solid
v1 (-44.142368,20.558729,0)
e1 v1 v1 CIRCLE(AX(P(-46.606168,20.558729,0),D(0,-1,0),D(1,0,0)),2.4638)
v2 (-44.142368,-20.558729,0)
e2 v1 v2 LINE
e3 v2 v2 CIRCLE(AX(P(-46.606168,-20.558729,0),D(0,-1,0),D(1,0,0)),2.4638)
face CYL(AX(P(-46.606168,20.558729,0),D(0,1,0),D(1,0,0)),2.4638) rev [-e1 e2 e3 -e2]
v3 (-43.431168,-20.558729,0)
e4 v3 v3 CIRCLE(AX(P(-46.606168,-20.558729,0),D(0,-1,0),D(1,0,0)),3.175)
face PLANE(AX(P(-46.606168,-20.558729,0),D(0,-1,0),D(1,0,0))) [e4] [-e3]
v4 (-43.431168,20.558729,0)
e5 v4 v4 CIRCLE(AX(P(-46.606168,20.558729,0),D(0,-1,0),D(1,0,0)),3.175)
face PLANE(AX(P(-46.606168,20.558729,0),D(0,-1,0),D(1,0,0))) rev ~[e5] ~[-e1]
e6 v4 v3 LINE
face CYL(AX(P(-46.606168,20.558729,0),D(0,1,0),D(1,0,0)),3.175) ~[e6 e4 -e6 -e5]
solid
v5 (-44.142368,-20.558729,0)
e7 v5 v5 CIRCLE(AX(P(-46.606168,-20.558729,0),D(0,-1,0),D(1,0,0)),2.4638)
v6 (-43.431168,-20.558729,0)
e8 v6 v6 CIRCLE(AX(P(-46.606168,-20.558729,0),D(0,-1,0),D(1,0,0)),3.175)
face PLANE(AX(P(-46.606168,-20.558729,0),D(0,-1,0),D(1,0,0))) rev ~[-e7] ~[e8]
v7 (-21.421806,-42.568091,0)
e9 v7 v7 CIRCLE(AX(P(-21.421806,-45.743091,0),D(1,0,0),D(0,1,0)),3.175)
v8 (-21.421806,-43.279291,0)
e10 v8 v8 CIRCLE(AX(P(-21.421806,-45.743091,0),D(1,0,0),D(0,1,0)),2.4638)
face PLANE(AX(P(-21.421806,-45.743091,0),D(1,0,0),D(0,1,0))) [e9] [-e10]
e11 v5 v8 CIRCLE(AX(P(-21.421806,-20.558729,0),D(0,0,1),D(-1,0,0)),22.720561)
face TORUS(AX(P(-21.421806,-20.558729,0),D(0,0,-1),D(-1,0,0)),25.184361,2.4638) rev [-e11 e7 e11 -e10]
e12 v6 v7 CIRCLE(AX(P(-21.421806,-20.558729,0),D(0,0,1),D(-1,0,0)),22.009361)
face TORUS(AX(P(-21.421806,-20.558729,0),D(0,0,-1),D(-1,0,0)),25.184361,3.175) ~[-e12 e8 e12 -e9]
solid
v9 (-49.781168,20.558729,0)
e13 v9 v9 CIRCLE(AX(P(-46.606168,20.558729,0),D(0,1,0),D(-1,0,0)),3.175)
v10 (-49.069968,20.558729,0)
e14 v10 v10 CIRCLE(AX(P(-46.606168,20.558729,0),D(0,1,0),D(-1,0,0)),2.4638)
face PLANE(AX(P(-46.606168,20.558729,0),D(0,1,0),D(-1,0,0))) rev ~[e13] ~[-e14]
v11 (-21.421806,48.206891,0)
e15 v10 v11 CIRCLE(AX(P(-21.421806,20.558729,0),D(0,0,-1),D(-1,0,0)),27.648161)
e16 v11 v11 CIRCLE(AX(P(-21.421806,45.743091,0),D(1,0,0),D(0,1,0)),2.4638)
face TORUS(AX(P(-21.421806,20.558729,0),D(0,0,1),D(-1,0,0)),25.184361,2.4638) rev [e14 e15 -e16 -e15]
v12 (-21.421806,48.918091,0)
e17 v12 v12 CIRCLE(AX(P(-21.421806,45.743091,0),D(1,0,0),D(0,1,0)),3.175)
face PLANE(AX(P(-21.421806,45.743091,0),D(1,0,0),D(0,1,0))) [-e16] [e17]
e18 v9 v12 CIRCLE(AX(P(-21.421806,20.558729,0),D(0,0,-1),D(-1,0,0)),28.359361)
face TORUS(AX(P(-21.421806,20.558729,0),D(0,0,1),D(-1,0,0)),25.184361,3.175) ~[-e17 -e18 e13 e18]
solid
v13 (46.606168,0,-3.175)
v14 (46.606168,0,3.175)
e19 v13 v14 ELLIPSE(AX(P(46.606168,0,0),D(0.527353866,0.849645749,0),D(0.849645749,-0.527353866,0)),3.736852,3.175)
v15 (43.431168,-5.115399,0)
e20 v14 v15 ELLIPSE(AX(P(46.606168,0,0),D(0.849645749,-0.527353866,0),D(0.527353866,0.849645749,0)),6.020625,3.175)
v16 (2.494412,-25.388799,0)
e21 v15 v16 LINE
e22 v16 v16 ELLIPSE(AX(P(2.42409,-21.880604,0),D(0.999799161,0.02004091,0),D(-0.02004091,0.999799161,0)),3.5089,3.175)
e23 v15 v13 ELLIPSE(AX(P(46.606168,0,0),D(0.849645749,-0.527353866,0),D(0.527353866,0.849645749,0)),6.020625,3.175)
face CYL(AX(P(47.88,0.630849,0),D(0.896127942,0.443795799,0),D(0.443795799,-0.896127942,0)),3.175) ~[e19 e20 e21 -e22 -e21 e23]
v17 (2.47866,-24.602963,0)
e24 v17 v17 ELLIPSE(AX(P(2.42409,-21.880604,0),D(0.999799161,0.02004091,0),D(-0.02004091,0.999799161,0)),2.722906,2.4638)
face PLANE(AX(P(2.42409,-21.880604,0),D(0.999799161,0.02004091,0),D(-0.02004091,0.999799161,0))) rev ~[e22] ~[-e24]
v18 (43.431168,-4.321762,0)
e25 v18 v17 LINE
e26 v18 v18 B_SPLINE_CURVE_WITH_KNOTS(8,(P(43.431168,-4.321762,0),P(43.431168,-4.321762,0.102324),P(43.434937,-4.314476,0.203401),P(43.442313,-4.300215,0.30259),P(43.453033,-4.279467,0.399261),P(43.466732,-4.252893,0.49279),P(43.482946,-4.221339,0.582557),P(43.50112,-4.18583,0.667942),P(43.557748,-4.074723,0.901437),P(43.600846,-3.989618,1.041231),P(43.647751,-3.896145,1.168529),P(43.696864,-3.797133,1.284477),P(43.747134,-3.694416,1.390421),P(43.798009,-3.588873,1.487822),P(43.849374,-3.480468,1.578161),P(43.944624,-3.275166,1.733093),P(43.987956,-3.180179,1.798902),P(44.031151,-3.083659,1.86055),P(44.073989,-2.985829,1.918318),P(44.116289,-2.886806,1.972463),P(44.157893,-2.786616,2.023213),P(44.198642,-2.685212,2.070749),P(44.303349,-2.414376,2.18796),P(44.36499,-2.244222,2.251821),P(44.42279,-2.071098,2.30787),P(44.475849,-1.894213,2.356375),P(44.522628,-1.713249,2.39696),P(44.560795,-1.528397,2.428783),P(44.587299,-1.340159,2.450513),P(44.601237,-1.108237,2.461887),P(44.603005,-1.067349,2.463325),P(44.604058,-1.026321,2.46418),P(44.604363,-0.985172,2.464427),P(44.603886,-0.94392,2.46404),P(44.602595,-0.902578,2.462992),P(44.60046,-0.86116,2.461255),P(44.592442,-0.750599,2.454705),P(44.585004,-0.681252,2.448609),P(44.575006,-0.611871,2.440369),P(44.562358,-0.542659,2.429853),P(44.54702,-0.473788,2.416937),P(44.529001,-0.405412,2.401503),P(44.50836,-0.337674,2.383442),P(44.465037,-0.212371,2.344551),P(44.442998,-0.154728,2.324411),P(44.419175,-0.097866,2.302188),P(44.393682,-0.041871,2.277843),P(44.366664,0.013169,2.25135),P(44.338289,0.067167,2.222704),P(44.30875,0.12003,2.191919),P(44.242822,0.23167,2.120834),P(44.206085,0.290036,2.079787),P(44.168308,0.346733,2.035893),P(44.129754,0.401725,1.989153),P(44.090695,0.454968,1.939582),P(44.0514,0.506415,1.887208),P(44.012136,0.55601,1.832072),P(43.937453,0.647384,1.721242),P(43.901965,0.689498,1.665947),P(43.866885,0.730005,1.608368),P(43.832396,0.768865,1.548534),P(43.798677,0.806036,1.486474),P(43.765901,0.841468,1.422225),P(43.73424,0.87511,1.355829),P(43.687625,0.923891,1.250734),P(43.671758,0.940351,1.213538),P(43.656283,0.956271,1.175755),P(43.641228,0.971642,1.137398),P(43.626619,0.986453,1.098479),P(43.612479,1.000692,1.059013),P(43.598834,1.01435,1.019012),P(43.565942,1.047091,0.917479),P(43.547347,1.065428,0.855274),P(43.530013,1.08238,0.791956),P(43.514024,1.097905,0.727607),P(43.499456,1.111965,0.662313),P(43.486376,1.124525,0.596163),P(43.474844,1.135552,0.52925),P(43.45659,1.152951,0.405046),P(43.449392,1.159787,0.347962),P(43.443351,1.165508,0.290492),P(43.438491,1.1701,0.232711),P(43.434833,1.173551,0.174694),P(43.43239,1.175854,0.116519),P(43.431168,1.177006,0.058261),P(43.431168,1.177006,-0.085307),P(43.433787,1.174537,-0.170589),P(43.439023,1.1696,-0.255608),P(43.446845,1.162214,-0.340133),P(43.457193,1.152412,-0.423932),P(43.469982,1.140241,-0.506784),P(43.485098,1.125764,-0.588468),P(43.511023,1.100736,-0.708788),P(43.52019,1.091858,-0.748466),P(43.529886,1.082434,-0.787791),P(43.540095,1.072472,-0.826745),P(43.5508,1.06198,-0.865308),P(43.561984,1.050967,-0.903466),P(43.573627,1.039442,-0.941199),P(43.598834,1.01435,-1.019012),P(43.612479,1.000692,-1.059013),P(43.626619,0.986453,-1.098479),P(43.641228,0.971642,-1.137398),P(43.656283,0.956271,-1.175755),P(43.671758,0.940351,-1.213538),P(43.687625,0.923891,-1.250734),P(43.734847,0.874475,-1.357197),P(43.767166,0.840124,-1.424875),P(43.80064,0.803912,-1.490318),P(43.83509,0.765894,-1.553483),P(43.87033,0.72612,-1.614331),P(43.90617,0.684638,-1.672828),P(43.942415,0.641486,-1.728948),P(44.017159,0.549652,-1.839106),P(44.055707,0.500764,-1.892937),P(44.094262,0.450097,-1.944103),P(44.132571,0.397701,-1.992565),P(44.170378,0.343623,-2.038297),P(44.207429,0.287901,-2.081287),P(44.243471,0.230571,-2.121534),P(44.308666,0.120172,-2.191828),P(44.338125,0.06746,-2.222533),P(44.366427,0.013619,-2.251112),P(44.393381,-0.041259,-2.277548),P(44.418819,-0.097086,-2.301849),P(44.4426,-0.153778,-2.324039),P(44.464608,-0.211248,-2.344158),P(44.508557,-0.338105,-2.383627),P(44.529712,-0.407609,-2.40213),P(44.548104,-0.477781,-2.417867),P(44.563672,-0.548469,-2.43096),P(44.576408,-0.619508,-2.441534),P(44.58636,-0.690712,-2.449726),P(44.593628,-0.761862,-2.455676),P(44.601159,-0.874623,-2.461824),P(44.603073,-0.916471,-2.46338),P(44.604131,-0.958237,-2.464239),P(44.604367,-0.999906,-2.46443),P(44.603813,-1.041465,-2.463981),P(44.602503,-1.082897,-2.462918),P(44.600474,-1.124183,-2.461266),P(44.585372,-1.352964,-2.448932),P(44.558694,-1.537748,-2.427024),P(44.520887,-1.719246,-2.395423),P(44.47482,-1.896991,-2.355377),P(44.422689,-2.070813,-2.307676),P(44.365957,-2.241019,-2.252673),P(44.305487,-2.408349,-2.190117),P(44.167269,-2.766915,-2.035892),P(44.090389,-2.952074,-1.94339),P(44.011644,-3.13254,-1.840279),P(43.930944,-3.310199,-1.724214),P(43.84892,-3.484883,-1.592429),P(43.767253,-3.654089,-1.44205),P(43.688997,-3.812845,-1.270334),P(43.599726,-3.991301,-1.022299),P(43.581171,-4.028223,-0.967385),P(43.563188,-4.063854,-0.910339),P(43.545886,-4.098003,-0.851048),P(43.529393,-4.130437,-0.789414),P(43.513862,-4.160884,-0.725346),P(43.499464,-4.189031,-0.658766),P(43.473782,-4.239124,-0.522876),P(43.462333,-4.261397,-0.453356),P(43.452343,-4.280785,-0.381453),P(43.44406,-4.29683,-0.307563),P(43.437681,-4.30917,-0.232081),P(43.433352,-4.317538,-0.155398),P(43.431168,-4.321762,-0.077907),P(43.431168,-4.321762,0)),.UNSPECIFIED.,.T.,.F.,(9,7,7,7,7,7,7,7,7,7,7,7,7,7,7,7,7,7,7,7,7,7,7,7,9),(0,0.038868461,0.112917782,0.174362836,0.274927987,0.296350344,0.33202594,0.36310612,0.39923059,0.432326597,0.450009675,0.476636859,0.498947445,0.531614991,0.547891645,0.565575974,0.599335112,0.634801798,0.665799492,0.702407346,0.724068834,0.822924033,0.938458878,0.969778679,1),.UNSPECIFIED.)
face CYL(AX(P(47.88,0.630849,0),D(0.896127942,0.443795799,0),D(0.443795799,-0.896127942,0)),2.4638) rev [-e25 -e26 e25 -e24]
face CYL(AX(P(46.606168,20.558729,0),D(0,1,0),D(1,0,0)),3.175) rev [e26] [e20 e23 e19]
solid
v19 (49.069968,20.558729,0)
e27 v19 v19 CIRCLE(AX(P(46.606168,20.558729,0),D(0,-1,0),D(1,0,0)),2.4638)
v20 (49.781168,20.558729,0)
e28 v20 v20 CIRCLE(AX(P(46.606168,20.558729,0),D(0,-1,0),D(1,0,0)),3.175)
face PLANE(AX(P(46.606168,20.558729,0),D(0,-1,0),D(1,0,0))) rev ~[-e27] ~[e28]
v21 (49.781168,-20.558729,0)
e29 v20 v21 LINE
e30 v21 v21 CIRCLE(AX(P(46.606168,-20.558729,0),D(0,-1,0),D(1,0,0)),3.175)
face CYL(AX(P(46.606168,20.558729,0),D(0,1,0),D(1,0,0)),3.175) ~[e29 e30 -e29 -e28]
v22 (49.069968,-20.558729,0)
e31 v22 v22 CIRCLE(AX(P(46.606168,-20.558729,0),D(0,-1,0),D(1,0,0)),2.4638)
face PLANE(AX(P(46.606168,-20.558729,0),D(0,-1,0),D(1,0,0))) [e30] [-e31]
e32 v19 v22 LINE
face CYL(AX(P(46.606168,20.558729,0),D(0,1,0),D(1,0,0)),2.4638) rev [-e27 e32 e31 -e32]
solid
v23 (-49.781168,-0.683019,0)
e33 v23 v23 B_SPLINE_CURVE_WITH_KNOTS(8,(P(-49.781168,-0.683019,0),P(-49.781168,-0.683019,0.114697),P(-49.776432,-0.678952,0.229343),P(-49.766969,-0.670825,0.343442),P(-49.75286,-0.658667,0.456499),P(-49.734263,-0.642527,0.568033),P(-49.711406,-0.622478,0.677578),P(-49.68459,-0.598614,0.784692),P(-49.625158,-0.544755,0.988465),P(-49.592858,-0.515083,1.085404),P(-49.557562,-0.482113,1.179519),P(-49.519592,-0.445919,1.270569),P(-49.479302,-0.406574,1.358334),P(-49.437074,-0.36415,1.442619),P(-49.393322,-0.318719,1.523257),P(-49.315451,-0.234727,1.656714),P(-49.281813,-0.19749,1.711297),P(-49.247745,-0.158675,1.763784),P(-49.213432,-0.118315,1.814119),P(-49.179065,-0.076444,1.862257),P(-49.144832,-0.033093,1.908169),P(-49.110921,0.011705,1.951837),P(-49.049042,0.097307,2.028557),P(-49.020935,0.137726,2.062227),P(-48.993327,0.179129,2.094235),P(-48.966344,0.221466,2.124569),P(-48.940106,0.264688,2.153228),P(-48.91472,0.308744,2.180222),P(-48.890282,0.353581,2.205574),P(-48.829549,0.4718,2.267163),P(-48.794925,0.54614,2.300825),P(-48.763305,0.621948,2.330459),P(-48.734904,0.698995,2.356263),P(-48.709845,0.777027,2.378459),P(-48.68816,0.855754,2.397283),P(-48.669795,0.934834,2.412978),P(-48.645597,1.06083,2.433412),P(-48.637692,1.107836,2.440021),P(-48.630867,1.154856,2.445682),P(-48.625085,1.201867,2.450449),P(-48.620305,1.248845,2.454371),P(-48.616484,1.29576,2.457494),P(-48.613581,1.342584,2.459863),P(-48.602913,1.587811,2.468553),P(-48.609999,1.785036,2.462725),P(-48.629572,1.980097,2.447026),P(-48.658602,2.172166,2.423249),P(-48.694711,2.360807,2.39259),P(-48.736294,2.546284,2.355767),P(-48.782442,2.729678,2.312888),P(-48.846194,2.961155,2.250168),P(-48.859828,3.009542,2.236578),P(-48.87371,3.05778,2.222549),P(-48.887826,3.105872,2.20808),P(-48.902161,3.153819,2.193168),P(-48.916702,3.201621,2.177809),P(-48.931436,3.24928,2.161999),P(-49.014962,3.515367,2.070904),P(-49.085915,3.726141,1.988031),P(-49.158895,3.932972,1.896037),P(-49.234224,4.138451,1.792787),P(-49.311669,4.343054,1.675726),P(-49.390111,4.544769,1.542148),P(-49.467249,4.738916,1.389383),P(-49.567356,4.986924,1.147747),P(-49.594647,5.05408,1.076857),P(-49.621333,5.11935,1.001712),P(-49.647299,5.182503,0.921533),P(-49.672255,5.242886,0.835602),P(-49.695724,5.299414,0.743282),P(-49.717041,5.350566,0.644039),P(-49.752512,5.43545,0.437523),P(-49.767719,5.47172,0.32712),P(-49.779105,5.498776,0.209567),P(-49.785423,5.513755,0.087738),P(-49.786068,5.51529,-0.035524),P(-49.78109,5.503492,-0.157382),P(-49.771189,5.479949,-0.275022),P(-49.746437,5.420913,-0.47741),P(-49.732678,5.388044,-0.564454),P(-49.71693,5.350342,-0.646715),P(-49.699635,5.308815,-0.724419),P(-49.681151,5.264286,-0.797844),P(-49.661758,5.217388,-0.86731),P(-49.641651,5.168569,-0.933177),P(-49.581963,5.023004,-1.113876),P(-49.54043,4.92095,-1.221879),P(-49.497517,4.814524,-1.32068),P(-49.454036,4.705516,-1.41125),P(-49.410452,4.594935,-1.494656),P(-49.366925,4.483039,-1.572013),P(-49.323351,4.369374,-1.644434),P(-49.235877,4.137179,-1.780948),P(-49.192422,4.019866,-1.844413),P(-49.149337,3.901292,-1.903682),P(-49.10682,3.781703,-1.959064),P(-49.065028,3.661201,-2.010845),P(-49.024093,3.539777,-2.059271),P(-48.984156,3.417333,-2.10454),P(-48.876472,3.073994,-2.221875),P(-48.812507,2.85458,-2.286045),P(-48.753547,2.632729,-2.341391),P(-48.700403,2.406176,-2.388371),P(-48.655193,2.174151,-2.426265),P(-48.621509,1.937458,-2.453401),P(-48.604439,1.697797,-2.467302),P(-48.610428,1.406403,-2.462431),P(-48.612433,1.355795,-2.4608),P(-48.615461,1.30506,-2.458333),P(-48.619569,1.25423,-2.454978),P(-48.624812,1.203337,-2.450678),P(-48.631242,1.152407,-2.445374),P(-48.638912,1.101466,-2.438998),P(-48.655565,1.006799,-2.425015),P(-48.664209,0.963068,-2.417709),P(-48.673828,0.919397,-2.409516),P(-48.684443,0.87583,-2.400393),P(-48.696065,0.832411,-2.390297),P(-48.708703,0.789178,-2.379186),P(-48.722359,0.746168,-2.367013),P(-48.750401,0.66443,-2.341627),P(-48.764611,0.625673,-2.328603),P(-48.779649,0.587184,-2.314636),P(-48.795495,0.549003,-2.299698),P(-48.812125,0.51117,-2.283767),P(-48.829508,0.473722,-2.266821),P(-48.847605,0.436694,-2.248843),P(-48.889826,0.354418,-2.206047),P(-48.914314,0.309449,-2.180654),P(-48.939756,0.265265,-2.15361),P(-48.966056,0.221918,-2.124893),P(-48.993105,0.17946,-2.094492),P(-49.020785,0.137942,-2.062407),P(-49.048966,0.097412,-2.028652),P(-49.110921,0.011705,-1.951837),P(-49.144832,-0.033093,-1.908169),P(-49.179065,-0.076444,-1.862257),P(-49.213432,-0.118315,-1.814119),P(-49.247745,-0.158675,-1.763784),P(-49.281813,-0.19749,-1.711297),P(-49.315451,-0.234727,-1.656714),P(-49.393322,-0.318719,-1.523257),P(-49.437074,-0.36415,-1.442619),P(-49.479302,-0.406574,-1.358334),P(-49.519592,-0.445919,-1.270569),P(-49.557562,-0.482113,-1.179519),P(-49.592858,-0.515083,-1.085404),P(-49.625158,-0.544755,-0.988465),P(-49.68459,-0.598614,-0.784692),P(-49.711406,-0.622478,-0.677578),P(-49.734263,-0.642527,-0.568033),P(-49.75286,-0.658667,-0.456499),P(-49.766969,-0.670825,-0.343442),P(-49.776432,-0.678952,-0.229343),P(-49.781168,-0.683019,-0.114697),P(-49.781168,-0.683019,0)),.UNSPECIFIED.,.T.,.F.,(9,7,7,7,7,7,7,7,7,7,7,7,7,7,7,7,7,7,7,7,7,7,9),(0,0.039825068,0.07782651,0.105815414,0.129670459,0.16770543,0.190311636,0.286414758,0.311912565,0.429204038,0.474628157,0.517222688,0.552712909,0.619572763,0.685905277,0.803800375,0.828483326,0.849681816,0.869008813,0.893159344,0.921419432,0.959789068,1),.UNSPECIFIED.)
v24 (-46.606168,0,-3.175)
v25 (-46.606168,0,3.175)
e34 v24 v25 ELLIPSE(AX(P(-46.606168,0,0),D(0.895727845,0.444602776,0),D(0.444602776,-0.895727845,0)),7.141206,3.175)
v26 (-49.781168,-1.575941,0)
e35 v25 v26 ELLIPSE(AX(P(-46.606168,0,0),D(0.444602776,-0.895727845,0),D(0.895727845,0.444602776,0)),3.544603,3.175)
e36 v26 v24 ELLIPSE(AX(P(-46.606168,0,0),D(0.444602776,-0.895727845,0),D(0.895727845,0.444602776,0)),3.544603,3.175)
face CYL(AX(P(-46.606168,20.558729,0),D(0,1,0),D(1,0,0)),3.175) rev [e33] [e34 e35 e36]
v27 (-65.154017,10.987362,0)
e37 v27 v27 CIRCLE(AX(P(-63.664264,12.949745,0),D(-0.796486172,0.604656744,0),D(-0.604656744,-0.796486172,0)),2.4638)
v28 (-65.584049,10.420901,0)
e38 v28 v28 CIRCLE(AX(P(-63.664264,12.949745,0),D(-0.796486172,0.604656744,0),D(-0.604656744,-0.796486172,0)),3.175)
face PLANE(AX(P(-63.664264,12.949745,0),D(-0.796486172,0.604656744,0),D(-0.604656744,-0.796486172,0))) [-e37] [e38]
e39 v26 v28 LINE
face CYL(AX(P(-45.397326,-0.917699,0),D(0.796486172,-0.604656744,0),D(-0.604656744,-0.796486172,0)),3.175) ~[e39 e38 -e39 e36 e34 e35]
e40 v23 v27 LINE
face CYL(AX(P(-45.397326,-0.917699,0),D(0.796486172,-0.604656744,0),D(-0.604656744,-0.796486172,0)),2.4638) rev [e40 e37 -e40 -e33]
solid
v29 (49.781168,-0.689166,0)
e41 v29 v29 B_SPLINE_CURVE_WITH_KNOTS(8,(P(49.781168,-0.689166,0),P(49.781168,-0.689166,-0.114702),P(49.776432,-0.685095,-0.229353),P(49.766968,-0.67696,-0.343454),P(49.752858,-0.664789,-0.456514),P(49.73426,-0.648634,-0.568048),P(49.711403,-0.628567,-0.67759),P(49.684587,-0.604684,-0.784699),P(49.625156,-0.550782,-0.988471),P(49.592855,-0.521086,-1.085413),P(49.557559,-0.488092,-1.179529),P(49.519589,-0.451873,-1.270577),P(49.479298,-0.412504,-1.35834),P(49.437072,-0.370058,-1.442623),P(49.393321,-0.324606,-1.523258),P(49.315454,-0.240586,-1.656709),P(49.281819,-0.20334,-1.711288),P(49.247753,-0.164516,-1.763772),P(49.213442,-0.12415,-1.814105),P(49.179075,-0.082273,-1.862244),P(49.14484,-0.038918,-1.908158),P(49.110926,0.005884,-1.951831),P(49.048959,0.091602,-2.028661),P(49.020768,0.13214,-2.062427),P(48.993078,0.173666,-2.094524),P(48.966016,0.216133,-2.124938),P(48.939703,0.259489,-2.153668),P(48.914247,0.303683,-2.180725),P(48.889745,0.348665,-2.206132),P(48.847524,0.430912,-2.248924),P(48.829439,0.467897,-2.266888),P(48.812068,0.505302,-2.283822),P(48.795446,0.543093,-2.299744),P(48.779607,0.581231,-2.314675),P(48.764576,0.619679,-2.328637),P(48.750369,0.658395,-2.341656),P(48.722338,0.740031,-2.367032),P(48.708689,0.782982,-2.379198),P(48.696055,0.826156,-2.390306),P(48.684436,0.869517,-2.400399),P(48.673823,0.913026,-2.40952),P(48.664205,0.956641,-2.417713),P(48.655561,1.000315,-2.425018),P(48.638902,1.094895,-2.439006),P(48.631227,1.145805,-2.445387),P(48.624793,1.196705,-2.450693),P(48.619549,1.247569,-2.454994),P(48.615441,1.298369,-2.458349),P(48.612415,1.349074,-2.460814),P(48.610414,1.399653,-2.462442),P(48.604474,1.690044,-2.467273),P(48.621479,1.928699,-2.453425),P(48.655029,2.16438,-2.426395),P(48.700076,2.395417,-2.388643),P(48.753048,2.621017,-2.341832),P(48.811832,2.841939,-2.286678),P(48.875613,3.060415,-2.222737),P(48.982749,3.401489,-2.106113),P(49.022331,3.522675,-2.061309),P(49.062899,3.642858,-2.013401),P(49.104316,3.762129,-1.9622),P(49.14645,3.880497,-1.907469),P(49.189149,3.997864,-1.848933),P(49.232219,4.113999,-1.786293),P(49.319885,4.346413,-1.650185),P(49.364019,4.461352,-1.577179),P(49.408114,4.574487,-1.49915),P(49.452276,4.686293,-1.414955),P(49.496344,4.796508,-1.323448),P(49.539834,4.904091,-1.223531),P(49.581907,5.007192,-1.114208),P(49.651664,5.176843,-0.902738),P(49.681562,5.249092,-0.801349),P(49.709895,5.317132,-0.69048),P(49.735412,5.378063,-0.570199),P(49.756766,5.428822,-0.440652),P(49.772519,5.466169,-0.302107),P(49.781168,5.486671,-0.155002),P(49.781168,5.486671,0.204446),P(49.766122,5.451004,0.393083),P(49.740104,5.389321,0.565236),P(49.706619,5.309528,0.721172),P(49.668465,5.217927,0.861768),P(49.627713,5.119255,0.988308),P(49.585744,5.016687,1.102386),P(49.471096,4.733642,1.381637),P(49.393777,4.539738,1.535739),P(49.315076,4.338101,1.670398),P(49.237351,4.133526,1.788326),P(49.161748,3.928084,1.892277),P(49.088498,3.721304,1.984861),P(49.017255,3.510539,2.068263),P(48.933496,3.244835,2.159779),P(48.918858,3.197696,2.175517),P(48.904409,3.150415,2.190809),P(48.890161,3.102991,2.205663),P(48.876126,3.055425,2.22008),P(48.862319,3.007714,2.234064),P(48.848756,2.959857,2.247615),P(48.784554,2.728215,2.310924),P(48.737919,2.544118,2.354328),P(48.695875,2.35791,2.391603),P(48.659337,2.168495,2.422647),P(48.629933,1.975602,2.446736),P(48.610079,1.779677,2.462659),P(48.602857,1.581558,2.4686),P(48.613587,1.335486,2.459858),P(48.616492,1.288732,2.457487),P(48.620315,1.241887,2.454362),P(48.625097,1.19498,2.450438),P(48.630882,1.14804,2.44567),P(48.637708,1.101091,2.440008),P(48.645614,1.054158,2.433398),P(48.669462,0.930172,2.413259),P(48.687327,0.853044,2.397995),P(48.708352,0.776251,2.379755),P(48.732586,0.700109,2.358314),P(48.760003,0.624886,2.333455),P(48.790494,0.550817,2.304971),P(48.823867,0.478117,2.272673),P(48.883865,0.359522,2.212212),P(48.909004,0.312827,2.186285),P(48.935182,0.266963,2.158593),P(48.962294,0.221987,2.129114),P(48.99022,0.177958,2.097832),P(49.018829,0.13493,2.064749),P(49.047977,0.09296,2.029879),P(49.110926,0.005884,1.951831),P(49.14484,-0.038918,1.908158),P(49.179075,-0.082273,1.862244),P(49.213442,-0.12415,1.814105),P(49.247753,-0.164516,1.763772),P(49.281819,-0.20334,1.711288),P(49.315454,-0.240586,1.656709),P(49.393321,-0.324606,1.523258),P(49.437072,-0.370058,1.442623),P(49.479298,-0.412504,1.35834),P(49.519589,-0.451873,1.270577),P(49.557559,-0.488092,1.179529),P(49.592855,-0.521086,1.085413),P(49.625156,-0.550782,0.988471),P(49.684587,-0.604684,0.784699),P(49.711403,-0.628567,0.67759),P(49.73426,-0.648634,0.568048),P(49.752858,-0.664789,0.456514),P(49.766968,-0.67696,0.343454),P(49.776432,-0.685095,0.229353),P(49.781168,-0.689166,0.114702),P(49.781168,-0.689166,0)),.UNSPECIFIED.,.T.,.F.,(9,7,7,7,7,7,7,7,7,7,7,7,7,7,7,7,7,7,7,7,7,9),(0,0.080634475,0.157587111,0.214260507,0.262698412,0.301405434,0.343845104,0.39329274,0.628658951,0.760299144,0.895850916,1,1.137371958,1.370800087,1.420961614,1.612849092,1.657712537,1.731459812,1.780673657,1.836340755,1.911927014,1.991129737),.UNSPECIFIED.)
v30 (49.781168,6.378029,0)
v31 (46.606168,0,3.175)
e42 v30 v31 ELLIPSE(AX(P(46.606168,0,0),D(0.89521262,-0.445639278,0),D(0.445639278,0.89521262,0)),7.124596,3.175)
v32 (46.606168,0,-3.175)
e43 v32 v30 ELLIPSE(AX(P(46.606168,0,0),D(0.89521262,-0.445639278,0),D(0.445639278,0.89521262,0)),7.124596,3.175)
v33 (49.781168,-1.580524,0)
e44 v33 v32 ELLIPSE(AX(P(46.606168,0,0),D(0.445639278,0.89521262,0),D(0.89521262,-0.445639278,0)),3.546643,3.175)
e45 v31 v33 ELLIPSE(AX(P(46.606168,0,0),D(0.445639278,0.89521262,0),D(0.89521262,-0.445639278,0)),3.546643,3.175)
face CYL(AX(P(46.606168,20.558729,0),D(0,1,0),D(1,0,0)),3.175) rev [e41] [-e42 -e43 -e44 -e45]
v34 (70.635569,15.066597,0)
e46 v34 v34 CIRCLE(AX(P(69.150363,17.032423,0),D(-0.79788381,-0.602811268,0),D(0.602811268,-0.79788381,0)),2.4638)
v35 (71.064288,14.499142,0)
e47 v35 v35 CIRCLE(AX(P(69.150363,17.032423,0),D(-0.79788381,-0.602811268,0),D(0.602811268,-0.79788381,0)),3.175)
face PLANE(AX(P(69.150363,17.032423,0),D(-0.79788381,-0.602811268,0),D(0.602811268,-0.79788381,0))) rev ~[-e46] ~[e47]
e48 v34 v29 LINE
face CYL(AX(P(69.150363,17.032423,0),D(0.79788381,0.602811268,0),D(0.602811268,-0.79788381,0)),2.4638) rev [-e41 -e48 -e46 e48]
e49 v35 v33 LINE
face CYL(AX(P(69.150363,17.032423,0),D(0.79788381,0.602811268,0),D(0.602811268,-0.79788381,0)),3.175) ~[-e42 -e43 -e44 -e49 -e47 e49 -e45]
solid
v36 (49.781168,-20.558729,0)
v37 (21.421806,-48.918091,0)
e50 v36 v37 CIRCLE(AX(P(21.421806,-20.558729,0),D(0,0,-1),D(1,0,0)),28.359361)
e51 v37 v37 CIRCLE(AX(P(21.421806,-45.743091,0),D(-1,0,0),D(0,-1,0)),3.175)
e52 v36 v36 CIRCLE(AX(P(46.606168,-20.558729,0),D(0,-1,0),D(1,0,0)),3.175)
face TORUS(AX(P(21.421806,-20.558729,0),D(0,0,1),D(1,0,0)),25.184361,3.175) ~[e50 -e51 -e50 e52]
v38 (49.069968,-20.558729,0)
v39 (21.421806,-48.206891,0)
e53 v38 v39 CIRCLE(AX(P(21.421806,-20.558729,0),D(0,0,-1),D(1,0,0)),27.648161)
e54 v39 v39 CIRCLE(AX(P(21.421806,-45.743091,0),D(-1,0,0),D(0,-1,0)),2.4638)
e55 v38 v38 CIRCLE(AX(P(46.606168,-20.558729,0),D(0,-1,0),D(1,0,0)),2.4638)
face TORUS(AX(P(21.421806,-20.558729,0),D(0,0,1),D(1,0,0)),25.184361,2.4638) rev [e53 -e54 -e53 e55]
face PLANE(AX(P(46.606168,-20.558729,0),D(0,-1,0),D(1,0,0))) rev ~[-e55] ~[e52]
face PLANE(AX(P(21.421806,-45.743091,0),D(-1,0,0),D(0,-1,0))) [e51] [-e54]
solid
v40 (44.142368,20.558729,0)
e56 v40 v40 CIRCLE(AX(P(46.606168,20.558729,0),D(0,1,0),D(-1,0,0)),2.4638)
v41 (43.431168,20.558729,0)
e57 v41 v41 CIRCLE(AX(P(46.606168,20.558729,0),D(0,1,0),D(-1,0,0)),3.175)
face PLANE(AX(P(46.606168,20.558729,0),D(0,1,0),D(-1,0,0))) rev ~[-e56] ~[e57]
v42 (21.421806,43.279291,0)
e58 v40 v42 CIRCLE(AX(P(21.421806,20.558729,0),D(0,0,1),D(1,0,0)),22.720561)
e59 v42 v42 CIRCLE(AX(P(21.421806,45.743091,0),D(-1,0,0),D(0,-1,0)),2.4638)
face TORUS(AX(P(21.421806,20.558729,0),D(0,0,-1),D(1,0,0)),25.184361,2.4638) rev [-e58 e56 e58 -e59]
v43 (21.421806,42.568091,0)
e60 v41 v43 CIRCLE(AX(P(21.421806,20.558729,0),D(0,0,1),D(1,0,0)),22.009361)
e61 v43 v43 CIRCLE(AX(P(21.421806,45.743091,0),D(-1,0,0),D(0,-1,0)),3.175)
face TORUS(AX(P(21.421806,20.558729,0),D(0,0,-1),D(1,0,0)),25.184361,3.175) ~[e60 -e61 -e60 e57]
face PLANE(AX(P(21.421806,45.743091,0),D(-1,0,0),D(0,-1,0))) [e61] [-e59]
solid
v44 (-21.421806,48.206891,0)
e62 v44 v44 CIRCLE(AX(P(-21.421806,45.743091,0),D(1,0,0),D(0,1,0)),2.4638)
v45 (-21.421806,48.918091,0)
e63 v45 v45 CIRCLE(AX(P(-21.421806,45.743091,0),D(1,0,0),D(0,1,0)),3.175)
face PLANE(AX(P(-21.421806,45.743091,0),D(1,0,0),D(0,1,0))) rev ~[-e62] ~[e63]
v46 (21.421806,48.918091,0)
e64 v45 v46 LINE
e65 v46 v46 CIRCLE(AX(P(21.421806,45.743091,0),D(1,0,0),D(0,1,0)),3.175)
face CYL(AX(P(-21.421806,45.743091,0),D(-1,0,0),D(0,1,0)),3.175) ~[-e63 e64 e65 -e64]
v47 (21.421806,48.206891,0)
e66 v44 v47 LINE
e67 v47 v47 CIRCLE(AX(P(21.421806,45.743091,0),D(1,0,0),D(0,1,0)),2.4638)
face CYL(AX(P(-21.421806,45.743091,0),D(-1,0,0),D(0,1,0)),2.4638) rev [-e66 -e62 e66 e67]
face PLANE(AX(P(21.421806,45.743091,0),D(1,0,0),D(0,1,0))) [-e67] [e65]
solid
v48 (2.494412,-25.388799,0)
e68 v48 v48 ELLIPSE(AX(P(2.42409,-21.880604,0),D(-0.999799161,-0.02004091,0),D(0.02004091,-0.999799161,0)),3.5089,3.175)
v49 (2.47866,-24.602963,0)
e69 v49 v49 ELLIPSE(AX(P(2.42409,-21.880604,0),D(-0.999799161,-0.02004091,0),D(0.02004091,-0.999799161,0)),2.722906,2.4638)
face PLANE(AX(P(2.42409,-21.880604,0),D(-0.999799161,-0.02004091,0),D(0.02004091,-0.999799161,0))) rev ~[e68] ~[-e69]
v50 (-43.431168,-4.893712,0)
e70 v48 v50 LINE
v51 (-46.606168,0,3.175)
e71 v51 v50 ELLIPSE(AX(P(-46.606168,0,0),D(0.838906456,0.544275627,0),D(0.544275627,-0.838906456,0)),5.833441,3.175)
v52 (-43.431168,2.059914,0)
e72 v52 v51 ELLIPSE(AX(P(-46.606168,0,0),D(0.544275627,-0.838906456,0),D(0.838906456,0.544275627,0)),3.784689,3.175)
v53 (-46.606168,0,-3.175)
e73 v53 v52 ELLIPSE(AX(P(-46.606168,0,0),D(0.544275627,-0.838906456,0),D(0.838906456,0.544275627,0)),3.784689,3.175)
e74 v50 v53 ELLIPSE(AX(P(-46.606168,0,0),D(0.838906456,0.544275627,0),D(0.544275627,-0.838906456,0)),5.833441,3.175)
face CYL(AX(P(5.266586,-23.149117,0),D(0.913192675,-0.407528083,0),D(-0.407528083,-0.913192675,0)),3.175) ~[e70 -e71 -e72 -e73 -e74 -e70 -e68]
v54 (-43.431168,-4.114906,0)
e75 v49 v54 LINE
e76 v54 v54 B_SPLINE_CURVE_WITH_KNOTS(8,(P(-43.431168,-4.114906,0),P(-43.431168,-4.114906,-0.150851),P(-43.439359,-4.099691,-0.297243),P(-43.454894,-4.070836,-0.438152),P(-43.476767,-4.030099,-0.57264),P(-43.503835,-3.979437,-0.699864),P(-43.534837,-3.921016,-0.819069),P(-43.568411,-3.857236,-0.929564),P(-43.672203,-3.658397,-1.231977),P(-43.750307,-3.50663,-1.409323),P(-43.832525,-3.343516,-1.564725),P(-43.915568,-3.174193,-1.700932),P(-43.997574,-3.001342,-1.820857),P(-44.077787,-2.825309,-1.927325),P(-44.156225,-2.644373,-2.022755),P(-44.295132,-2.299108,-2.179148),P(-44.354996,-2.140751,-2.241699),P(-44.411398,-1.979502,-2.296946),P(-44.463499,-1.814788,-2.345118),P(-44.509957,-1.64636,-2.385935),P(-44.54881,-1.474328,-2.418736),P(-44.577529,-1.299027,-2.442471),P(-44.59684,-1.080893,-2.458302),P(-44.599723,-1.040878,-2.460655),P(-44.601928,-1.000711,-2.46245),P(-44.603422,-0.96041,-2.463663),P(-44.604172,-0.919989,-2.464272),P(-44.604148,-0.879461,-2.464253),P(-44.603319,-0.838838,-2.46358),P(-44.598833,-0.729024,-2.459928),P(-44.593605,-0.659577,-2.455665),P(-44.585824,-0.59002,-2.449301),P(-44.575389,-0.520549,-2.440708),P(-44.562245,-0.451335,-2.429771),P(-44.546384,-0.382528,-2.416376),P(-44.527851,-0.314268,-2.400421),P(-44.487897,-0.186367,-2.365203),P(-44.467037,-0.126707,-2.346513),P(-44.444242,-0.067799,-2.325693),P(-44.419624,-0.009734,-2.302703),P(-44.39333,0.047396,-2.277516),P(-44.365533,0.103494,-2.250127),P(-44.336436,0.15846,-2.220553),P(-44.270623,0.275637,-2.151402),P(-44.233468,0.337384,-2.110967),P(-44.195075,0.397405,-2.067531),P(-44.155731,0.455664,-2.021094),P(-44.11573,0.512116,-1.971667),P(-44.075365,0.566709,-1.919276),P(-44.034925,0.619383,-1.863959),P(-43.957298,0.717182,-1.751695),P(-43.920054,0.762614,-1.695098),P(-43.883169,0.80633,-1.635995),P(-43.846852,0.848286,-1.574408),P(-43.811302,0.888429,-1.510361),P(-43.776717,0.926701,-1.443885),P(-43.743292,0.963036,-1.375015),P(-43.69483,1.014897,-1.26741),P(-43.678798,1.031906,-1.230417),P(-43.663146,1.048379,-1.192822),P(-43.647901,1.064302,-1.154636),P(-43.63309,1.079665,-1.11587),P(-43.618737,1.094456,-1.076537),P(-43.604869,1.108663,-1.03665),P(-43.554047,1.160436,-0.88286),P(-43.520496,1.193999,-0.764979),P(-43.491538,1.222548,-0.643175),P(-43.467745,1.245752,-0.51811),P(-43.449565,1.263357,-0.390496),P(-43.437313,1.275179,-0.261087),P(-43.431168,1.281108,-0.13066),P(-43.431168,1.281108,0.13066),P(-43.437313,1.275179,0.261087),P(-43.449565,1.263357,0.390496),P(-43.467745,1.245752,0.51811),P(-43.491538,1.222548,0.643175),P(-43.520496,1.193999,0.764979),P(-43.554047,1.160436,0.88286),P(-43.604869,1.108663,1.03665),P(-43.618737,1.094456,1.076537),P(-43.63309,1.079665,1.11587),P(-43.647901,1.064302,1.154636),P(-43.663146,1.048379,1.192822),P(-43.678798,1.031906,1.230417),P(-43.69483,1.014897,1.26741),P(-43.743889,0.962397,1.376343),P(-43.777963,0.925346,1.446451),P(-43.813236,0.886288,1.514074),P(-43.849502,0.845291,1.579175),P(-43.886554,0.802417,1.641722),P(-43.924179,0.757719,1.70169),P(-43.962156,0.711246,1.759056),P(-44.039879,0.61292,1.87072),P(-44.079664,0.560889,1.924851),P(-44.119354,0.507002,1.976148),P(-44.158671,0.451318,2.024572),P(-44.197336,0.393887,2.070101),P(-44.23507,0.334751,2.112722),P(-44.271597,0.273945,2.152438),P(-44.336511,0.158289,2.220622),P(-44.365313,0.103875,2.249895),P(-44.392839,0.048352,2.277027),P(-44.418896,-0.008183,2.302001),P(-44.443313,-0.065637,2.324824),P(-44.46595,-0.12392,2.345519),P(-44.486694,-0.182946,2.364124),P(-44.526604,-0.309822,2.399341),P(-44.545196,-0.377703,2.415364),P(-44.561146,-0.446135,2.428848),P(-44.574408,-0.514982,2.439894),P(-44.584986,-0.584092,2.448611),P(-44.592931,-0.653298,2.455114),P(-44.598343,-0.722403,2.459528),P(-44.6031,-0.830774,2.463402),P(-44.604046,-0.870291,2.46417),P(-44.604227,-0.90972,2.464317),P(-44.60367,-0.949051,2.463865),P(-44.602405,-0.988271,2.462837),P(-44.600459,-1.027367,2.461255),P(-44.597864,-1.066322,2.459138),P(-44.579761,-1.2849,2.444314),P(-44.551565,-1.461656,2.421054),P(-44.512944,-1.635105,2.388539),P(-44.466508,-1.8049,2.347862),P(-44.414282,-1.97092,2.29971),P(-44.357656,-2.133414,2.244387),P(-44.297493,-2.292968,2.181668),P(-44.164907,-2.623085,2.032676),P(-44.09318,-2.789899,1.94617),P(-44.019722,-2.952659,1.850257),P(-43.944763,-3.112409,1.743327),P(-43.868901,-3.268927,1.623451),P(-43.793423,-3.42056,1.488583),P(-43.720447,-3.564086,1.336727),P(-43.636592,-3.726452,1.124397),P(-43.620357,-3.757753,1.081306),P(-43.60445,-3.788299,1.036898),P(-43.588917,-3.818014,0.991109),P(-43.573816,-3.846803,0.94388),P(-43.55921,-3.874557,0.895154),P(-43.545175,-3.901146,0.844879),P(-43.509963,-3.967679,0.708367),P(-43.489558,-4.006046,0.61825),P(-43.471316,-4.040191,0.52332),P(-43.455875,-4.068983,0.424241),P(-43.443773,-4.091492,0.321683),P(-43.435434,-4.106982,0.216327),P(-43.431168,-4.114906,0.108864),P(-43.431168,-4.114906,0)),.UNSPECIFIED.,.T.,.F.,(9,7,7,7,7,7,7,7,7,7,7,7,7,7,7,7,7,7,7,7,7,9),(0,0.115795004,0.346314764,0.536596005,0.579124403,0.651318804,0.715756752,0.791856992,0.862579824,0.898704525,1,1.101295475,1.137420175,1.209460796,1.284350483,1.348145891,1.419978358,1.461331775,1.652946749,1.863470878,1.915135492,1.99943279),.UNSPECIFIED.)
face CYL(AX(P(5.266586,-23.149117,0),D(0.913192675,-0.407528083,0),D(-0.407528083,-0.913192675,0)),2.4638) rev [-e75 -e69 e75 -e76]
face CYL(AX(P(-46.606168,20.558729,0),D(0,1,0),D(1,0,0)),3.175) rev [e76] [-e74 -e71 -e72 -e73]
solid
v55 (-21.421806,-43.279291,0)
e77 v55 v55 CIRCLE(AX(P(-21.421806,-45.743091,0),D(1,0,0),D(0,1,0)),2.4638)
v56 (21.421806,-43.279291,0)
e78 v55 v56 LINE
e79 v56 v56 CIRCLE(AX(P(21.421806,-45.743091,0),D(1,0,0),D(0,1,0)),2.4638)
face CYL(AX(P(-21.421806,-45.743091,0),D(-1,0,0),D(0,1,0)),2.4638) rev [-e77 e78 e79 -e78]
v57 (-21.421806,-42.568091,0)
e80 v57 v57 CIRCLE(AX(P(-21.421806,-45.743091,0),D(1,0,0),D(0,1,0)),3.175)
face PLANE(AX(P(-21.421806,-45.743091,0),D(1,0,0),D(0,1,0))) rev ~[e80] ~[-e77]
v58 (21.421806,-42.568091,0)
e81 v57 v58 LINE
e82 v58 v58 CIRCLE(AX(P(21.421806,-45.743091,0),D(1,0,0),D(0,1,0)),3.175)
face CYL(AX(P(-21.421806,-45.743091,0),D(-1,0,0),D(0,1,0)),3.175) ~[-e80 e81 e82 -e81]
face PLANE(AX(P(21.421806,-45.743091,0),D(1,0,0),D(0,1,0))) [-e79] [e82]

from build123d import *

# Parameters (mm, degrees)
SKETCH17_R                          = 3.175
SKETCH17_R_2                        = 2.4638
WELD_TUBING_0_250_X_0_028_1_DEPTH   = 41.117458539
SKETCH17_ON_SEGMENT_2_R             = 3.175
SKETCH17_ON_SEGMENT_2_R_2           = 2.4638
WELD_TUBING_0_250_X_0_028_1_2_ANGLE = 90
SKETCH17_ON_SEGMENT_3_R             = 3.175
SKETCH17_ON_SEGMENT_3_R_2           = 2.4638
WELD_TUBING_0_250_X_0_028_1_3_DEPTH = 42.843612898
SKETCH17_ON_SEGMENT_4_R             = 3.175
SKETCH17_ON_SEGMENT_4_R_2           = 2.4638
WELD_TUBING_0_250_X_0_028_1_4_ANGLE = 90
SKETCH17_ON_SEGMENT_5_R             = 3.175
SKETCH17_ON_SEGMENT_5_R_2           = 2.4638
WELD_TUBING_0_250_X_0_028_1_5_DEPTH = 41.117458539
SKETCH17_ON_SEGMENT_6_R             = 3.175
SKETCH17_ON_SEGMENT_6_R_2           = 2.4638
WELD_TUBING_0_250_X_0_028_1_6_ANGLE = 90
SKETCH17_ON_SEGMENT_7_R             = 3.175
SKETCH17_ON_SEGMENT_7_R_2           = 2.4638
WELD_TUBING_0_250_X_0_028_1_7_DEPTH = 42.843612898
SKETCH17_ON_SEGMENT_8_R             = 3.175
SKETCH17_ON_SEGMENT_8_R_2           = 2.4638
WELD_TUBING_0_250_X_0_028_1_8_ANGLE = 90
SKETCH18_R                          = 3.175
SKETCH18_R_2                        = 2.4638
WELD_TUBING_0_250_X_0_028_2_DEPTH   = 29.676469468
SKETCH18_ON_SEGMENT_2_R             = 3.175
SKETCH18_ON_SEGMENT_2_R_2           = 2.4638
WELD_TUBING_0_250_X_0_028_2_2_DEPTH = 53.837499631
SKETCH18_ON_SEGMENT_3_R             = 3.175
SKETCH18_ON_SEGMENT_3_R_2           = 2.4638
WELD_TUBING_0_250_X_0_028_2_3_DEPTH = 58.321452548
SKETCH18_ON_SEGMENT_4_R             = 3.175
SKETCH18_ON_SEGMENT_4_R_2           = 2.4638
WELD_TUBING_0_250_X_0_028_2_4_DEPTH = 22.93440718


with BuildPart() as part:
    # Sketch17 → Weld tubing 0.250 X 0.028(1) (new body)
    with BuildSketch(Plane(origin=(-46.606167695, 20.55872927, 0), x_dir=(1, 0, 0), z_dir=(0, -1, 0))):
        Circle(SKETCH17_R)
        Circle(SKETCH17_R_2, mode=Mode.SUBTRACT)
    extrude(amount=WELD_TUBING_0_250_X_0_028_1_DEPTH)


with BuildPart() as body_2:
    # Sketch17 on segment 2 (carried to the start of arc 2) → Weld tubing 0.250 X 0.028_1 2 (revolve)
    with BuildSketch(Plane(origin=(-46.606167695, -20.55872927, 0), x_dir=(1, 0, 0), z_dir=(0, -1, 0))):
        Circle(SKETCH17_ON_SEGMENT_2_R)
        Circle(SKETCH17_ON_SEGMENT_2_R_2, mode=Mode.SUBTRACT)
    revolve(axis=Axis((-21.421806449, -20.55872927, 0), (0, 0, 1)), revolution_arc=WELD_TUBING_0_250_X_0_028_1_2_ANGLE)


with BuildPart() as body_3:
    # Sketch17 on segment 3 (carried to segment 3) → Weld tubing 0.250 X 0.028_1 3 (new body)
    with BuildSketch(Plane(origin=(-21.421806449, -45.743090515, 0), x_dir=(0, 1, 0), z_dir=(1, 0, 0))):
        Circle(SKETCH17_ON_SEGMENT_3_R)
        Circle(SKETCH17_ON_SEGMENT_3_R_2, mode=Mode.SUBTRACT)
    extrude(amount=WELD_TUBING_0_250_X_0_028_1_3_DEPTH)


with BuildPart() as body_4:
    # Sketch17 on segment 4 (carried to the start of arc 4) → Weld tubing 0.250 X 0.028_1 4 (revolve)
    with BuildSketch(Plane(origin=(46.606167695, -20.55872927, 0), x_dir=(1, 0, 0), z_dir=(0, -1, 0))):
        Circle(SKETCH17_ON_SEGMENT_4_R)
        Circle(SKETCH17_ON_SEGMENT_4_R_2, mode=Mode.SUBTRACT)
    revolve(axis=Axis((21.421806449, -20.55872927, 0), (0, 0, -1)), revolution_arc=WELD_TUBING_0_250_X_0_028_1_4_ANGLE)


with BuildPart() as body_5:
    # Sketch17 on segment 5 (carried to segment 5) → Weld tubing 0.250 X 0.028_1 5 (new body)
    with BuildSketch(Plane(origin=(46.606167695, 20.55872927, 0), x_dir=(1, 0, 0), z_dir=(0, -1, 0))):
        Circle(SKETCH17_ON_SEGMENT_5_R)
        Circle(SKETCH17_ON_SEGMENT_5_R_2, mode=Mode.SUBTRACT)
    extrude(amount=WELD_TUBING_0_250_X_0_028_1_5_DEPTH)


with BuildPart() as body_6:
    # Sketch17 on segment 6 (carried to the start of arc 6) → Weld tubing 0.250 X 0.028_1 6 (revolve)
    with BuildSketch(Plane(origin=(46.606167695, 20.55872927, 0), x_dir=(-1, 0, 0), z_dir=(0, 1, 0))):
        Circle(SKETCH17_ON_SEGMENT_6_R)
        Circle(SKETCH17_ON_SEGMENT_6_R_2, mode=Mode.SUBTRACT)
    revolve(axis=Axis((21.421806449, 20.55872927, 0), (0, 0, 1)), revolution_arc=WELD_TUBING_0_250_X_0_028_1_6_ANGLE)


with BuildPart() as body_7:
    # Sketch17 on segment 7 (carried to segment 7) → Weld tubing 0.250 X 0.028_1 7 (new body)
    with BuildSketch(Plane(origin=(-21.421806449, 45.743090515, 0), x_dir=(0, 1, 0), z_dir=(1, 0, 0))):
        Circle(SKETCH17_ON_SEGMENT_7_R)
        Circle(SKETCH17_ON_SEGMENT_7_R_2, mode=Mode.SUBTRACT)
    extrude(amount=WELD_TUBING_0_250_X_0_028_1_7_DEPTH)


with BuildPart() as body_8:
    # Sketch17 on segment 8 (carried to the start of arc 8) → Weld tubing 0.250 X 0.028_1 8 (revolve)
    with BuildSketch(Plane(origin=(-46.606167695, 20.55872927, 0), x_dir=(-1, 0, 0), z_dir=(0, 1, 0))):
        Circle(SKETCH17_ON_SEGMENT_8_R)
        Circle(SKETCH17_ON_SEGMENT_8_R_2, mode=Mode.SUBTRACT)
    revolve(axis=Axis((-21.421806449, 20.55872927, 0), (0, 0, -1)), revolution_arc=WELD_TUBING_0_250_X_0_028_1_8_ANGLE)


with BuildPart() as body_9:
    # Sketch18 → Weld tubing 0.250 X 0.028(2) (new body)
    with BuildSketch(Plane(origin=(69.150362698, 17.032423285, 0), x_dir=(0.6028112684900666, -0.7978838102013329, 0), z_dir=(-0.797883810201333, -0.6028112684900667, 0))):
        Circle(SKETCH18_R)
        Circle(SKETCH18_R_2, mode=Mode.SUBTRACT)
    extrude(amount=WELD_TUBING_0_250_X_0_028_2_DEPTH)

    # Weld tubing 0.250 X 0.028(2) mitre 1
    split(bisect_by=Plane(origin=(46.606167695, 0, 0), x_dir=(-0.525604001, 0.850729354, 0), z_dir=(0.850729354, 0.525604001, 0)), keep=Keep.TOP)

    # Trim/Extend3: cut back where it meets the other member's skin (coped)
    split(bisect_by=body_5.part.faces().sort_by_distance((43.431167695, 1e-09, 0))[0], keep=Keep.TOP)


with BuildPart() as body_10:
    # Sketch18 on segment 2 (carried to segment 2) → Weld tubing 0.250 X 0.028_2 2 (new body)
    with BuildSketch(Plane(origin=(47.879999742, 0.630848882, 0), x_dir=(0.443795799, -0.896127942, 0), z_dir=(-0.896127942, -0.443795799, 0))):
        Circle(SKETCH18_ON_SEGMENT_2_R)
        Circle(SKETCH18_ON_SEGMENT_2_R_2, mode=Mode.SUBTRACT)
    extrude(amount=WELD_TUBING_0_250_X_0_028_2_2_DEPTH)

    # Weld tubing 0.250 X 0.028_2 2 mitre 1
    split(bisect_by=Plane(origin=(46.606167695, 0, 0), x_dir=(0.525604001, -0.850729354, 0), z_dir=(-0.850729354, -0.525604001, 0)), keep=Keep.TOP)

    # Weld tubing 0.250 X 0.028_2 2 mitre 2
    split(bisect_by=Plane(origin=(2.424090205, -21.880603695, 0), x_dir=(-0.02004091, 0.999799161, 0), z_dir=(0.999799161, 0.02004091, 0)), keep=Keep.TOP)

    # Trim/Extend3: cut back where it meets the other member's skin (coped)
    split(bisect_by=body_5.part.faces().sort_by_distance((43.431167695, 1e-09, 0))[0], keep=Keep.TOP)


with BuildPart() as body_11:
    # Sketch18 on segment 3 (carried to segment 3) → Weld tubing 0.250 X 0.028_2 3 (new body)
    with BuildSketch(Plane(origin=(5.266585843, -23.149116716, 0), x_dir=(-0.407528083, -0.913192675, 0), z_dir=(-0.913192675, 0.407528083, 0))):
        Circle(SKETCH18_ON_SEGMENT_3_R)
        Circle(SKETCH18_ON_SEGMENT_3_R_2, mode=Mode.SUBTRACT)
    extrude(amount=WELD_TUBING_0_250_X_0_028_2_3_DEPTH)

    # Weld tubing 0.250 X 0.028_2 3 mitre 1
    split(bisect_by=Plane(origin=(2.424090205, -21.880603695, 0), x_dir=(0.02004091, -0.999799161, 0), z_dir=(-0.999799161, -0.02004091, 0)), keep=Keep.TOP)

    # Weld tubing 0.250 X 0.028_2 3 mitre 2
    split(bisect_by=Plane(origin=(-46.606167695, 0, 0), x_dir=(0.509445417, 0.860502973, 0), z_dir=(0.860502973, -0.509445417, 0)), keep=Keep.TOP)

    # Trim/Extend2: cut back where it meets the other member's skin (coped)
    split(bisect_by=part.part.faces().sort_by_distance((-49.781167695, 0, 0))[0], keep=Keep.TOP)


with BuildPart() as body_12:
    # Sketch18 on segment 4 (carried to segment 4) → Weld tubing 0.250 X 0.028_2 4 (new body)
    with BuildSketch(Plane(origin=(-45.397325634, -0.917698926, 0), x_dir=(-0.604656744, -0.796486172, 0), z_dir=(-0.796486172, 0.604656744, 0))):
        Circle(SKETCH18_ON_SEGMENT_4_R)
        Circle(SKETCH18_ON_SEGMENT_4_R_2, mode=Mode.SUBTRACT)
    extrude(amount=WELD_TUBING_0_250_X_0_028_2_4_DEPTH)

    # Weld tubing 0.250 X 0.028_2 4 mitre 1
    split(bisect_by=Plane(origin=(-46.606167695, 0, 0), x_dir=(-0.509445417, -0.860502973, 0), z_dir=(-0.860502973, 0.509445417, 0)), keep=Keep.TOP)

    # Trim/Extend2: cut back where it meets the other member's skin (coped)
    split(bisect_by=part.part.faces().sort_by_distance((-49.781167695, 0, 0))[0], keep=Keep.TOP)


solid = Compound([part.part, body_2.part, body_3.part, body_4.part, body_5.part, body_6.part, body_7.part, body_8.part, body_9.part, body_10.part, body_11.part, body_12.part])
